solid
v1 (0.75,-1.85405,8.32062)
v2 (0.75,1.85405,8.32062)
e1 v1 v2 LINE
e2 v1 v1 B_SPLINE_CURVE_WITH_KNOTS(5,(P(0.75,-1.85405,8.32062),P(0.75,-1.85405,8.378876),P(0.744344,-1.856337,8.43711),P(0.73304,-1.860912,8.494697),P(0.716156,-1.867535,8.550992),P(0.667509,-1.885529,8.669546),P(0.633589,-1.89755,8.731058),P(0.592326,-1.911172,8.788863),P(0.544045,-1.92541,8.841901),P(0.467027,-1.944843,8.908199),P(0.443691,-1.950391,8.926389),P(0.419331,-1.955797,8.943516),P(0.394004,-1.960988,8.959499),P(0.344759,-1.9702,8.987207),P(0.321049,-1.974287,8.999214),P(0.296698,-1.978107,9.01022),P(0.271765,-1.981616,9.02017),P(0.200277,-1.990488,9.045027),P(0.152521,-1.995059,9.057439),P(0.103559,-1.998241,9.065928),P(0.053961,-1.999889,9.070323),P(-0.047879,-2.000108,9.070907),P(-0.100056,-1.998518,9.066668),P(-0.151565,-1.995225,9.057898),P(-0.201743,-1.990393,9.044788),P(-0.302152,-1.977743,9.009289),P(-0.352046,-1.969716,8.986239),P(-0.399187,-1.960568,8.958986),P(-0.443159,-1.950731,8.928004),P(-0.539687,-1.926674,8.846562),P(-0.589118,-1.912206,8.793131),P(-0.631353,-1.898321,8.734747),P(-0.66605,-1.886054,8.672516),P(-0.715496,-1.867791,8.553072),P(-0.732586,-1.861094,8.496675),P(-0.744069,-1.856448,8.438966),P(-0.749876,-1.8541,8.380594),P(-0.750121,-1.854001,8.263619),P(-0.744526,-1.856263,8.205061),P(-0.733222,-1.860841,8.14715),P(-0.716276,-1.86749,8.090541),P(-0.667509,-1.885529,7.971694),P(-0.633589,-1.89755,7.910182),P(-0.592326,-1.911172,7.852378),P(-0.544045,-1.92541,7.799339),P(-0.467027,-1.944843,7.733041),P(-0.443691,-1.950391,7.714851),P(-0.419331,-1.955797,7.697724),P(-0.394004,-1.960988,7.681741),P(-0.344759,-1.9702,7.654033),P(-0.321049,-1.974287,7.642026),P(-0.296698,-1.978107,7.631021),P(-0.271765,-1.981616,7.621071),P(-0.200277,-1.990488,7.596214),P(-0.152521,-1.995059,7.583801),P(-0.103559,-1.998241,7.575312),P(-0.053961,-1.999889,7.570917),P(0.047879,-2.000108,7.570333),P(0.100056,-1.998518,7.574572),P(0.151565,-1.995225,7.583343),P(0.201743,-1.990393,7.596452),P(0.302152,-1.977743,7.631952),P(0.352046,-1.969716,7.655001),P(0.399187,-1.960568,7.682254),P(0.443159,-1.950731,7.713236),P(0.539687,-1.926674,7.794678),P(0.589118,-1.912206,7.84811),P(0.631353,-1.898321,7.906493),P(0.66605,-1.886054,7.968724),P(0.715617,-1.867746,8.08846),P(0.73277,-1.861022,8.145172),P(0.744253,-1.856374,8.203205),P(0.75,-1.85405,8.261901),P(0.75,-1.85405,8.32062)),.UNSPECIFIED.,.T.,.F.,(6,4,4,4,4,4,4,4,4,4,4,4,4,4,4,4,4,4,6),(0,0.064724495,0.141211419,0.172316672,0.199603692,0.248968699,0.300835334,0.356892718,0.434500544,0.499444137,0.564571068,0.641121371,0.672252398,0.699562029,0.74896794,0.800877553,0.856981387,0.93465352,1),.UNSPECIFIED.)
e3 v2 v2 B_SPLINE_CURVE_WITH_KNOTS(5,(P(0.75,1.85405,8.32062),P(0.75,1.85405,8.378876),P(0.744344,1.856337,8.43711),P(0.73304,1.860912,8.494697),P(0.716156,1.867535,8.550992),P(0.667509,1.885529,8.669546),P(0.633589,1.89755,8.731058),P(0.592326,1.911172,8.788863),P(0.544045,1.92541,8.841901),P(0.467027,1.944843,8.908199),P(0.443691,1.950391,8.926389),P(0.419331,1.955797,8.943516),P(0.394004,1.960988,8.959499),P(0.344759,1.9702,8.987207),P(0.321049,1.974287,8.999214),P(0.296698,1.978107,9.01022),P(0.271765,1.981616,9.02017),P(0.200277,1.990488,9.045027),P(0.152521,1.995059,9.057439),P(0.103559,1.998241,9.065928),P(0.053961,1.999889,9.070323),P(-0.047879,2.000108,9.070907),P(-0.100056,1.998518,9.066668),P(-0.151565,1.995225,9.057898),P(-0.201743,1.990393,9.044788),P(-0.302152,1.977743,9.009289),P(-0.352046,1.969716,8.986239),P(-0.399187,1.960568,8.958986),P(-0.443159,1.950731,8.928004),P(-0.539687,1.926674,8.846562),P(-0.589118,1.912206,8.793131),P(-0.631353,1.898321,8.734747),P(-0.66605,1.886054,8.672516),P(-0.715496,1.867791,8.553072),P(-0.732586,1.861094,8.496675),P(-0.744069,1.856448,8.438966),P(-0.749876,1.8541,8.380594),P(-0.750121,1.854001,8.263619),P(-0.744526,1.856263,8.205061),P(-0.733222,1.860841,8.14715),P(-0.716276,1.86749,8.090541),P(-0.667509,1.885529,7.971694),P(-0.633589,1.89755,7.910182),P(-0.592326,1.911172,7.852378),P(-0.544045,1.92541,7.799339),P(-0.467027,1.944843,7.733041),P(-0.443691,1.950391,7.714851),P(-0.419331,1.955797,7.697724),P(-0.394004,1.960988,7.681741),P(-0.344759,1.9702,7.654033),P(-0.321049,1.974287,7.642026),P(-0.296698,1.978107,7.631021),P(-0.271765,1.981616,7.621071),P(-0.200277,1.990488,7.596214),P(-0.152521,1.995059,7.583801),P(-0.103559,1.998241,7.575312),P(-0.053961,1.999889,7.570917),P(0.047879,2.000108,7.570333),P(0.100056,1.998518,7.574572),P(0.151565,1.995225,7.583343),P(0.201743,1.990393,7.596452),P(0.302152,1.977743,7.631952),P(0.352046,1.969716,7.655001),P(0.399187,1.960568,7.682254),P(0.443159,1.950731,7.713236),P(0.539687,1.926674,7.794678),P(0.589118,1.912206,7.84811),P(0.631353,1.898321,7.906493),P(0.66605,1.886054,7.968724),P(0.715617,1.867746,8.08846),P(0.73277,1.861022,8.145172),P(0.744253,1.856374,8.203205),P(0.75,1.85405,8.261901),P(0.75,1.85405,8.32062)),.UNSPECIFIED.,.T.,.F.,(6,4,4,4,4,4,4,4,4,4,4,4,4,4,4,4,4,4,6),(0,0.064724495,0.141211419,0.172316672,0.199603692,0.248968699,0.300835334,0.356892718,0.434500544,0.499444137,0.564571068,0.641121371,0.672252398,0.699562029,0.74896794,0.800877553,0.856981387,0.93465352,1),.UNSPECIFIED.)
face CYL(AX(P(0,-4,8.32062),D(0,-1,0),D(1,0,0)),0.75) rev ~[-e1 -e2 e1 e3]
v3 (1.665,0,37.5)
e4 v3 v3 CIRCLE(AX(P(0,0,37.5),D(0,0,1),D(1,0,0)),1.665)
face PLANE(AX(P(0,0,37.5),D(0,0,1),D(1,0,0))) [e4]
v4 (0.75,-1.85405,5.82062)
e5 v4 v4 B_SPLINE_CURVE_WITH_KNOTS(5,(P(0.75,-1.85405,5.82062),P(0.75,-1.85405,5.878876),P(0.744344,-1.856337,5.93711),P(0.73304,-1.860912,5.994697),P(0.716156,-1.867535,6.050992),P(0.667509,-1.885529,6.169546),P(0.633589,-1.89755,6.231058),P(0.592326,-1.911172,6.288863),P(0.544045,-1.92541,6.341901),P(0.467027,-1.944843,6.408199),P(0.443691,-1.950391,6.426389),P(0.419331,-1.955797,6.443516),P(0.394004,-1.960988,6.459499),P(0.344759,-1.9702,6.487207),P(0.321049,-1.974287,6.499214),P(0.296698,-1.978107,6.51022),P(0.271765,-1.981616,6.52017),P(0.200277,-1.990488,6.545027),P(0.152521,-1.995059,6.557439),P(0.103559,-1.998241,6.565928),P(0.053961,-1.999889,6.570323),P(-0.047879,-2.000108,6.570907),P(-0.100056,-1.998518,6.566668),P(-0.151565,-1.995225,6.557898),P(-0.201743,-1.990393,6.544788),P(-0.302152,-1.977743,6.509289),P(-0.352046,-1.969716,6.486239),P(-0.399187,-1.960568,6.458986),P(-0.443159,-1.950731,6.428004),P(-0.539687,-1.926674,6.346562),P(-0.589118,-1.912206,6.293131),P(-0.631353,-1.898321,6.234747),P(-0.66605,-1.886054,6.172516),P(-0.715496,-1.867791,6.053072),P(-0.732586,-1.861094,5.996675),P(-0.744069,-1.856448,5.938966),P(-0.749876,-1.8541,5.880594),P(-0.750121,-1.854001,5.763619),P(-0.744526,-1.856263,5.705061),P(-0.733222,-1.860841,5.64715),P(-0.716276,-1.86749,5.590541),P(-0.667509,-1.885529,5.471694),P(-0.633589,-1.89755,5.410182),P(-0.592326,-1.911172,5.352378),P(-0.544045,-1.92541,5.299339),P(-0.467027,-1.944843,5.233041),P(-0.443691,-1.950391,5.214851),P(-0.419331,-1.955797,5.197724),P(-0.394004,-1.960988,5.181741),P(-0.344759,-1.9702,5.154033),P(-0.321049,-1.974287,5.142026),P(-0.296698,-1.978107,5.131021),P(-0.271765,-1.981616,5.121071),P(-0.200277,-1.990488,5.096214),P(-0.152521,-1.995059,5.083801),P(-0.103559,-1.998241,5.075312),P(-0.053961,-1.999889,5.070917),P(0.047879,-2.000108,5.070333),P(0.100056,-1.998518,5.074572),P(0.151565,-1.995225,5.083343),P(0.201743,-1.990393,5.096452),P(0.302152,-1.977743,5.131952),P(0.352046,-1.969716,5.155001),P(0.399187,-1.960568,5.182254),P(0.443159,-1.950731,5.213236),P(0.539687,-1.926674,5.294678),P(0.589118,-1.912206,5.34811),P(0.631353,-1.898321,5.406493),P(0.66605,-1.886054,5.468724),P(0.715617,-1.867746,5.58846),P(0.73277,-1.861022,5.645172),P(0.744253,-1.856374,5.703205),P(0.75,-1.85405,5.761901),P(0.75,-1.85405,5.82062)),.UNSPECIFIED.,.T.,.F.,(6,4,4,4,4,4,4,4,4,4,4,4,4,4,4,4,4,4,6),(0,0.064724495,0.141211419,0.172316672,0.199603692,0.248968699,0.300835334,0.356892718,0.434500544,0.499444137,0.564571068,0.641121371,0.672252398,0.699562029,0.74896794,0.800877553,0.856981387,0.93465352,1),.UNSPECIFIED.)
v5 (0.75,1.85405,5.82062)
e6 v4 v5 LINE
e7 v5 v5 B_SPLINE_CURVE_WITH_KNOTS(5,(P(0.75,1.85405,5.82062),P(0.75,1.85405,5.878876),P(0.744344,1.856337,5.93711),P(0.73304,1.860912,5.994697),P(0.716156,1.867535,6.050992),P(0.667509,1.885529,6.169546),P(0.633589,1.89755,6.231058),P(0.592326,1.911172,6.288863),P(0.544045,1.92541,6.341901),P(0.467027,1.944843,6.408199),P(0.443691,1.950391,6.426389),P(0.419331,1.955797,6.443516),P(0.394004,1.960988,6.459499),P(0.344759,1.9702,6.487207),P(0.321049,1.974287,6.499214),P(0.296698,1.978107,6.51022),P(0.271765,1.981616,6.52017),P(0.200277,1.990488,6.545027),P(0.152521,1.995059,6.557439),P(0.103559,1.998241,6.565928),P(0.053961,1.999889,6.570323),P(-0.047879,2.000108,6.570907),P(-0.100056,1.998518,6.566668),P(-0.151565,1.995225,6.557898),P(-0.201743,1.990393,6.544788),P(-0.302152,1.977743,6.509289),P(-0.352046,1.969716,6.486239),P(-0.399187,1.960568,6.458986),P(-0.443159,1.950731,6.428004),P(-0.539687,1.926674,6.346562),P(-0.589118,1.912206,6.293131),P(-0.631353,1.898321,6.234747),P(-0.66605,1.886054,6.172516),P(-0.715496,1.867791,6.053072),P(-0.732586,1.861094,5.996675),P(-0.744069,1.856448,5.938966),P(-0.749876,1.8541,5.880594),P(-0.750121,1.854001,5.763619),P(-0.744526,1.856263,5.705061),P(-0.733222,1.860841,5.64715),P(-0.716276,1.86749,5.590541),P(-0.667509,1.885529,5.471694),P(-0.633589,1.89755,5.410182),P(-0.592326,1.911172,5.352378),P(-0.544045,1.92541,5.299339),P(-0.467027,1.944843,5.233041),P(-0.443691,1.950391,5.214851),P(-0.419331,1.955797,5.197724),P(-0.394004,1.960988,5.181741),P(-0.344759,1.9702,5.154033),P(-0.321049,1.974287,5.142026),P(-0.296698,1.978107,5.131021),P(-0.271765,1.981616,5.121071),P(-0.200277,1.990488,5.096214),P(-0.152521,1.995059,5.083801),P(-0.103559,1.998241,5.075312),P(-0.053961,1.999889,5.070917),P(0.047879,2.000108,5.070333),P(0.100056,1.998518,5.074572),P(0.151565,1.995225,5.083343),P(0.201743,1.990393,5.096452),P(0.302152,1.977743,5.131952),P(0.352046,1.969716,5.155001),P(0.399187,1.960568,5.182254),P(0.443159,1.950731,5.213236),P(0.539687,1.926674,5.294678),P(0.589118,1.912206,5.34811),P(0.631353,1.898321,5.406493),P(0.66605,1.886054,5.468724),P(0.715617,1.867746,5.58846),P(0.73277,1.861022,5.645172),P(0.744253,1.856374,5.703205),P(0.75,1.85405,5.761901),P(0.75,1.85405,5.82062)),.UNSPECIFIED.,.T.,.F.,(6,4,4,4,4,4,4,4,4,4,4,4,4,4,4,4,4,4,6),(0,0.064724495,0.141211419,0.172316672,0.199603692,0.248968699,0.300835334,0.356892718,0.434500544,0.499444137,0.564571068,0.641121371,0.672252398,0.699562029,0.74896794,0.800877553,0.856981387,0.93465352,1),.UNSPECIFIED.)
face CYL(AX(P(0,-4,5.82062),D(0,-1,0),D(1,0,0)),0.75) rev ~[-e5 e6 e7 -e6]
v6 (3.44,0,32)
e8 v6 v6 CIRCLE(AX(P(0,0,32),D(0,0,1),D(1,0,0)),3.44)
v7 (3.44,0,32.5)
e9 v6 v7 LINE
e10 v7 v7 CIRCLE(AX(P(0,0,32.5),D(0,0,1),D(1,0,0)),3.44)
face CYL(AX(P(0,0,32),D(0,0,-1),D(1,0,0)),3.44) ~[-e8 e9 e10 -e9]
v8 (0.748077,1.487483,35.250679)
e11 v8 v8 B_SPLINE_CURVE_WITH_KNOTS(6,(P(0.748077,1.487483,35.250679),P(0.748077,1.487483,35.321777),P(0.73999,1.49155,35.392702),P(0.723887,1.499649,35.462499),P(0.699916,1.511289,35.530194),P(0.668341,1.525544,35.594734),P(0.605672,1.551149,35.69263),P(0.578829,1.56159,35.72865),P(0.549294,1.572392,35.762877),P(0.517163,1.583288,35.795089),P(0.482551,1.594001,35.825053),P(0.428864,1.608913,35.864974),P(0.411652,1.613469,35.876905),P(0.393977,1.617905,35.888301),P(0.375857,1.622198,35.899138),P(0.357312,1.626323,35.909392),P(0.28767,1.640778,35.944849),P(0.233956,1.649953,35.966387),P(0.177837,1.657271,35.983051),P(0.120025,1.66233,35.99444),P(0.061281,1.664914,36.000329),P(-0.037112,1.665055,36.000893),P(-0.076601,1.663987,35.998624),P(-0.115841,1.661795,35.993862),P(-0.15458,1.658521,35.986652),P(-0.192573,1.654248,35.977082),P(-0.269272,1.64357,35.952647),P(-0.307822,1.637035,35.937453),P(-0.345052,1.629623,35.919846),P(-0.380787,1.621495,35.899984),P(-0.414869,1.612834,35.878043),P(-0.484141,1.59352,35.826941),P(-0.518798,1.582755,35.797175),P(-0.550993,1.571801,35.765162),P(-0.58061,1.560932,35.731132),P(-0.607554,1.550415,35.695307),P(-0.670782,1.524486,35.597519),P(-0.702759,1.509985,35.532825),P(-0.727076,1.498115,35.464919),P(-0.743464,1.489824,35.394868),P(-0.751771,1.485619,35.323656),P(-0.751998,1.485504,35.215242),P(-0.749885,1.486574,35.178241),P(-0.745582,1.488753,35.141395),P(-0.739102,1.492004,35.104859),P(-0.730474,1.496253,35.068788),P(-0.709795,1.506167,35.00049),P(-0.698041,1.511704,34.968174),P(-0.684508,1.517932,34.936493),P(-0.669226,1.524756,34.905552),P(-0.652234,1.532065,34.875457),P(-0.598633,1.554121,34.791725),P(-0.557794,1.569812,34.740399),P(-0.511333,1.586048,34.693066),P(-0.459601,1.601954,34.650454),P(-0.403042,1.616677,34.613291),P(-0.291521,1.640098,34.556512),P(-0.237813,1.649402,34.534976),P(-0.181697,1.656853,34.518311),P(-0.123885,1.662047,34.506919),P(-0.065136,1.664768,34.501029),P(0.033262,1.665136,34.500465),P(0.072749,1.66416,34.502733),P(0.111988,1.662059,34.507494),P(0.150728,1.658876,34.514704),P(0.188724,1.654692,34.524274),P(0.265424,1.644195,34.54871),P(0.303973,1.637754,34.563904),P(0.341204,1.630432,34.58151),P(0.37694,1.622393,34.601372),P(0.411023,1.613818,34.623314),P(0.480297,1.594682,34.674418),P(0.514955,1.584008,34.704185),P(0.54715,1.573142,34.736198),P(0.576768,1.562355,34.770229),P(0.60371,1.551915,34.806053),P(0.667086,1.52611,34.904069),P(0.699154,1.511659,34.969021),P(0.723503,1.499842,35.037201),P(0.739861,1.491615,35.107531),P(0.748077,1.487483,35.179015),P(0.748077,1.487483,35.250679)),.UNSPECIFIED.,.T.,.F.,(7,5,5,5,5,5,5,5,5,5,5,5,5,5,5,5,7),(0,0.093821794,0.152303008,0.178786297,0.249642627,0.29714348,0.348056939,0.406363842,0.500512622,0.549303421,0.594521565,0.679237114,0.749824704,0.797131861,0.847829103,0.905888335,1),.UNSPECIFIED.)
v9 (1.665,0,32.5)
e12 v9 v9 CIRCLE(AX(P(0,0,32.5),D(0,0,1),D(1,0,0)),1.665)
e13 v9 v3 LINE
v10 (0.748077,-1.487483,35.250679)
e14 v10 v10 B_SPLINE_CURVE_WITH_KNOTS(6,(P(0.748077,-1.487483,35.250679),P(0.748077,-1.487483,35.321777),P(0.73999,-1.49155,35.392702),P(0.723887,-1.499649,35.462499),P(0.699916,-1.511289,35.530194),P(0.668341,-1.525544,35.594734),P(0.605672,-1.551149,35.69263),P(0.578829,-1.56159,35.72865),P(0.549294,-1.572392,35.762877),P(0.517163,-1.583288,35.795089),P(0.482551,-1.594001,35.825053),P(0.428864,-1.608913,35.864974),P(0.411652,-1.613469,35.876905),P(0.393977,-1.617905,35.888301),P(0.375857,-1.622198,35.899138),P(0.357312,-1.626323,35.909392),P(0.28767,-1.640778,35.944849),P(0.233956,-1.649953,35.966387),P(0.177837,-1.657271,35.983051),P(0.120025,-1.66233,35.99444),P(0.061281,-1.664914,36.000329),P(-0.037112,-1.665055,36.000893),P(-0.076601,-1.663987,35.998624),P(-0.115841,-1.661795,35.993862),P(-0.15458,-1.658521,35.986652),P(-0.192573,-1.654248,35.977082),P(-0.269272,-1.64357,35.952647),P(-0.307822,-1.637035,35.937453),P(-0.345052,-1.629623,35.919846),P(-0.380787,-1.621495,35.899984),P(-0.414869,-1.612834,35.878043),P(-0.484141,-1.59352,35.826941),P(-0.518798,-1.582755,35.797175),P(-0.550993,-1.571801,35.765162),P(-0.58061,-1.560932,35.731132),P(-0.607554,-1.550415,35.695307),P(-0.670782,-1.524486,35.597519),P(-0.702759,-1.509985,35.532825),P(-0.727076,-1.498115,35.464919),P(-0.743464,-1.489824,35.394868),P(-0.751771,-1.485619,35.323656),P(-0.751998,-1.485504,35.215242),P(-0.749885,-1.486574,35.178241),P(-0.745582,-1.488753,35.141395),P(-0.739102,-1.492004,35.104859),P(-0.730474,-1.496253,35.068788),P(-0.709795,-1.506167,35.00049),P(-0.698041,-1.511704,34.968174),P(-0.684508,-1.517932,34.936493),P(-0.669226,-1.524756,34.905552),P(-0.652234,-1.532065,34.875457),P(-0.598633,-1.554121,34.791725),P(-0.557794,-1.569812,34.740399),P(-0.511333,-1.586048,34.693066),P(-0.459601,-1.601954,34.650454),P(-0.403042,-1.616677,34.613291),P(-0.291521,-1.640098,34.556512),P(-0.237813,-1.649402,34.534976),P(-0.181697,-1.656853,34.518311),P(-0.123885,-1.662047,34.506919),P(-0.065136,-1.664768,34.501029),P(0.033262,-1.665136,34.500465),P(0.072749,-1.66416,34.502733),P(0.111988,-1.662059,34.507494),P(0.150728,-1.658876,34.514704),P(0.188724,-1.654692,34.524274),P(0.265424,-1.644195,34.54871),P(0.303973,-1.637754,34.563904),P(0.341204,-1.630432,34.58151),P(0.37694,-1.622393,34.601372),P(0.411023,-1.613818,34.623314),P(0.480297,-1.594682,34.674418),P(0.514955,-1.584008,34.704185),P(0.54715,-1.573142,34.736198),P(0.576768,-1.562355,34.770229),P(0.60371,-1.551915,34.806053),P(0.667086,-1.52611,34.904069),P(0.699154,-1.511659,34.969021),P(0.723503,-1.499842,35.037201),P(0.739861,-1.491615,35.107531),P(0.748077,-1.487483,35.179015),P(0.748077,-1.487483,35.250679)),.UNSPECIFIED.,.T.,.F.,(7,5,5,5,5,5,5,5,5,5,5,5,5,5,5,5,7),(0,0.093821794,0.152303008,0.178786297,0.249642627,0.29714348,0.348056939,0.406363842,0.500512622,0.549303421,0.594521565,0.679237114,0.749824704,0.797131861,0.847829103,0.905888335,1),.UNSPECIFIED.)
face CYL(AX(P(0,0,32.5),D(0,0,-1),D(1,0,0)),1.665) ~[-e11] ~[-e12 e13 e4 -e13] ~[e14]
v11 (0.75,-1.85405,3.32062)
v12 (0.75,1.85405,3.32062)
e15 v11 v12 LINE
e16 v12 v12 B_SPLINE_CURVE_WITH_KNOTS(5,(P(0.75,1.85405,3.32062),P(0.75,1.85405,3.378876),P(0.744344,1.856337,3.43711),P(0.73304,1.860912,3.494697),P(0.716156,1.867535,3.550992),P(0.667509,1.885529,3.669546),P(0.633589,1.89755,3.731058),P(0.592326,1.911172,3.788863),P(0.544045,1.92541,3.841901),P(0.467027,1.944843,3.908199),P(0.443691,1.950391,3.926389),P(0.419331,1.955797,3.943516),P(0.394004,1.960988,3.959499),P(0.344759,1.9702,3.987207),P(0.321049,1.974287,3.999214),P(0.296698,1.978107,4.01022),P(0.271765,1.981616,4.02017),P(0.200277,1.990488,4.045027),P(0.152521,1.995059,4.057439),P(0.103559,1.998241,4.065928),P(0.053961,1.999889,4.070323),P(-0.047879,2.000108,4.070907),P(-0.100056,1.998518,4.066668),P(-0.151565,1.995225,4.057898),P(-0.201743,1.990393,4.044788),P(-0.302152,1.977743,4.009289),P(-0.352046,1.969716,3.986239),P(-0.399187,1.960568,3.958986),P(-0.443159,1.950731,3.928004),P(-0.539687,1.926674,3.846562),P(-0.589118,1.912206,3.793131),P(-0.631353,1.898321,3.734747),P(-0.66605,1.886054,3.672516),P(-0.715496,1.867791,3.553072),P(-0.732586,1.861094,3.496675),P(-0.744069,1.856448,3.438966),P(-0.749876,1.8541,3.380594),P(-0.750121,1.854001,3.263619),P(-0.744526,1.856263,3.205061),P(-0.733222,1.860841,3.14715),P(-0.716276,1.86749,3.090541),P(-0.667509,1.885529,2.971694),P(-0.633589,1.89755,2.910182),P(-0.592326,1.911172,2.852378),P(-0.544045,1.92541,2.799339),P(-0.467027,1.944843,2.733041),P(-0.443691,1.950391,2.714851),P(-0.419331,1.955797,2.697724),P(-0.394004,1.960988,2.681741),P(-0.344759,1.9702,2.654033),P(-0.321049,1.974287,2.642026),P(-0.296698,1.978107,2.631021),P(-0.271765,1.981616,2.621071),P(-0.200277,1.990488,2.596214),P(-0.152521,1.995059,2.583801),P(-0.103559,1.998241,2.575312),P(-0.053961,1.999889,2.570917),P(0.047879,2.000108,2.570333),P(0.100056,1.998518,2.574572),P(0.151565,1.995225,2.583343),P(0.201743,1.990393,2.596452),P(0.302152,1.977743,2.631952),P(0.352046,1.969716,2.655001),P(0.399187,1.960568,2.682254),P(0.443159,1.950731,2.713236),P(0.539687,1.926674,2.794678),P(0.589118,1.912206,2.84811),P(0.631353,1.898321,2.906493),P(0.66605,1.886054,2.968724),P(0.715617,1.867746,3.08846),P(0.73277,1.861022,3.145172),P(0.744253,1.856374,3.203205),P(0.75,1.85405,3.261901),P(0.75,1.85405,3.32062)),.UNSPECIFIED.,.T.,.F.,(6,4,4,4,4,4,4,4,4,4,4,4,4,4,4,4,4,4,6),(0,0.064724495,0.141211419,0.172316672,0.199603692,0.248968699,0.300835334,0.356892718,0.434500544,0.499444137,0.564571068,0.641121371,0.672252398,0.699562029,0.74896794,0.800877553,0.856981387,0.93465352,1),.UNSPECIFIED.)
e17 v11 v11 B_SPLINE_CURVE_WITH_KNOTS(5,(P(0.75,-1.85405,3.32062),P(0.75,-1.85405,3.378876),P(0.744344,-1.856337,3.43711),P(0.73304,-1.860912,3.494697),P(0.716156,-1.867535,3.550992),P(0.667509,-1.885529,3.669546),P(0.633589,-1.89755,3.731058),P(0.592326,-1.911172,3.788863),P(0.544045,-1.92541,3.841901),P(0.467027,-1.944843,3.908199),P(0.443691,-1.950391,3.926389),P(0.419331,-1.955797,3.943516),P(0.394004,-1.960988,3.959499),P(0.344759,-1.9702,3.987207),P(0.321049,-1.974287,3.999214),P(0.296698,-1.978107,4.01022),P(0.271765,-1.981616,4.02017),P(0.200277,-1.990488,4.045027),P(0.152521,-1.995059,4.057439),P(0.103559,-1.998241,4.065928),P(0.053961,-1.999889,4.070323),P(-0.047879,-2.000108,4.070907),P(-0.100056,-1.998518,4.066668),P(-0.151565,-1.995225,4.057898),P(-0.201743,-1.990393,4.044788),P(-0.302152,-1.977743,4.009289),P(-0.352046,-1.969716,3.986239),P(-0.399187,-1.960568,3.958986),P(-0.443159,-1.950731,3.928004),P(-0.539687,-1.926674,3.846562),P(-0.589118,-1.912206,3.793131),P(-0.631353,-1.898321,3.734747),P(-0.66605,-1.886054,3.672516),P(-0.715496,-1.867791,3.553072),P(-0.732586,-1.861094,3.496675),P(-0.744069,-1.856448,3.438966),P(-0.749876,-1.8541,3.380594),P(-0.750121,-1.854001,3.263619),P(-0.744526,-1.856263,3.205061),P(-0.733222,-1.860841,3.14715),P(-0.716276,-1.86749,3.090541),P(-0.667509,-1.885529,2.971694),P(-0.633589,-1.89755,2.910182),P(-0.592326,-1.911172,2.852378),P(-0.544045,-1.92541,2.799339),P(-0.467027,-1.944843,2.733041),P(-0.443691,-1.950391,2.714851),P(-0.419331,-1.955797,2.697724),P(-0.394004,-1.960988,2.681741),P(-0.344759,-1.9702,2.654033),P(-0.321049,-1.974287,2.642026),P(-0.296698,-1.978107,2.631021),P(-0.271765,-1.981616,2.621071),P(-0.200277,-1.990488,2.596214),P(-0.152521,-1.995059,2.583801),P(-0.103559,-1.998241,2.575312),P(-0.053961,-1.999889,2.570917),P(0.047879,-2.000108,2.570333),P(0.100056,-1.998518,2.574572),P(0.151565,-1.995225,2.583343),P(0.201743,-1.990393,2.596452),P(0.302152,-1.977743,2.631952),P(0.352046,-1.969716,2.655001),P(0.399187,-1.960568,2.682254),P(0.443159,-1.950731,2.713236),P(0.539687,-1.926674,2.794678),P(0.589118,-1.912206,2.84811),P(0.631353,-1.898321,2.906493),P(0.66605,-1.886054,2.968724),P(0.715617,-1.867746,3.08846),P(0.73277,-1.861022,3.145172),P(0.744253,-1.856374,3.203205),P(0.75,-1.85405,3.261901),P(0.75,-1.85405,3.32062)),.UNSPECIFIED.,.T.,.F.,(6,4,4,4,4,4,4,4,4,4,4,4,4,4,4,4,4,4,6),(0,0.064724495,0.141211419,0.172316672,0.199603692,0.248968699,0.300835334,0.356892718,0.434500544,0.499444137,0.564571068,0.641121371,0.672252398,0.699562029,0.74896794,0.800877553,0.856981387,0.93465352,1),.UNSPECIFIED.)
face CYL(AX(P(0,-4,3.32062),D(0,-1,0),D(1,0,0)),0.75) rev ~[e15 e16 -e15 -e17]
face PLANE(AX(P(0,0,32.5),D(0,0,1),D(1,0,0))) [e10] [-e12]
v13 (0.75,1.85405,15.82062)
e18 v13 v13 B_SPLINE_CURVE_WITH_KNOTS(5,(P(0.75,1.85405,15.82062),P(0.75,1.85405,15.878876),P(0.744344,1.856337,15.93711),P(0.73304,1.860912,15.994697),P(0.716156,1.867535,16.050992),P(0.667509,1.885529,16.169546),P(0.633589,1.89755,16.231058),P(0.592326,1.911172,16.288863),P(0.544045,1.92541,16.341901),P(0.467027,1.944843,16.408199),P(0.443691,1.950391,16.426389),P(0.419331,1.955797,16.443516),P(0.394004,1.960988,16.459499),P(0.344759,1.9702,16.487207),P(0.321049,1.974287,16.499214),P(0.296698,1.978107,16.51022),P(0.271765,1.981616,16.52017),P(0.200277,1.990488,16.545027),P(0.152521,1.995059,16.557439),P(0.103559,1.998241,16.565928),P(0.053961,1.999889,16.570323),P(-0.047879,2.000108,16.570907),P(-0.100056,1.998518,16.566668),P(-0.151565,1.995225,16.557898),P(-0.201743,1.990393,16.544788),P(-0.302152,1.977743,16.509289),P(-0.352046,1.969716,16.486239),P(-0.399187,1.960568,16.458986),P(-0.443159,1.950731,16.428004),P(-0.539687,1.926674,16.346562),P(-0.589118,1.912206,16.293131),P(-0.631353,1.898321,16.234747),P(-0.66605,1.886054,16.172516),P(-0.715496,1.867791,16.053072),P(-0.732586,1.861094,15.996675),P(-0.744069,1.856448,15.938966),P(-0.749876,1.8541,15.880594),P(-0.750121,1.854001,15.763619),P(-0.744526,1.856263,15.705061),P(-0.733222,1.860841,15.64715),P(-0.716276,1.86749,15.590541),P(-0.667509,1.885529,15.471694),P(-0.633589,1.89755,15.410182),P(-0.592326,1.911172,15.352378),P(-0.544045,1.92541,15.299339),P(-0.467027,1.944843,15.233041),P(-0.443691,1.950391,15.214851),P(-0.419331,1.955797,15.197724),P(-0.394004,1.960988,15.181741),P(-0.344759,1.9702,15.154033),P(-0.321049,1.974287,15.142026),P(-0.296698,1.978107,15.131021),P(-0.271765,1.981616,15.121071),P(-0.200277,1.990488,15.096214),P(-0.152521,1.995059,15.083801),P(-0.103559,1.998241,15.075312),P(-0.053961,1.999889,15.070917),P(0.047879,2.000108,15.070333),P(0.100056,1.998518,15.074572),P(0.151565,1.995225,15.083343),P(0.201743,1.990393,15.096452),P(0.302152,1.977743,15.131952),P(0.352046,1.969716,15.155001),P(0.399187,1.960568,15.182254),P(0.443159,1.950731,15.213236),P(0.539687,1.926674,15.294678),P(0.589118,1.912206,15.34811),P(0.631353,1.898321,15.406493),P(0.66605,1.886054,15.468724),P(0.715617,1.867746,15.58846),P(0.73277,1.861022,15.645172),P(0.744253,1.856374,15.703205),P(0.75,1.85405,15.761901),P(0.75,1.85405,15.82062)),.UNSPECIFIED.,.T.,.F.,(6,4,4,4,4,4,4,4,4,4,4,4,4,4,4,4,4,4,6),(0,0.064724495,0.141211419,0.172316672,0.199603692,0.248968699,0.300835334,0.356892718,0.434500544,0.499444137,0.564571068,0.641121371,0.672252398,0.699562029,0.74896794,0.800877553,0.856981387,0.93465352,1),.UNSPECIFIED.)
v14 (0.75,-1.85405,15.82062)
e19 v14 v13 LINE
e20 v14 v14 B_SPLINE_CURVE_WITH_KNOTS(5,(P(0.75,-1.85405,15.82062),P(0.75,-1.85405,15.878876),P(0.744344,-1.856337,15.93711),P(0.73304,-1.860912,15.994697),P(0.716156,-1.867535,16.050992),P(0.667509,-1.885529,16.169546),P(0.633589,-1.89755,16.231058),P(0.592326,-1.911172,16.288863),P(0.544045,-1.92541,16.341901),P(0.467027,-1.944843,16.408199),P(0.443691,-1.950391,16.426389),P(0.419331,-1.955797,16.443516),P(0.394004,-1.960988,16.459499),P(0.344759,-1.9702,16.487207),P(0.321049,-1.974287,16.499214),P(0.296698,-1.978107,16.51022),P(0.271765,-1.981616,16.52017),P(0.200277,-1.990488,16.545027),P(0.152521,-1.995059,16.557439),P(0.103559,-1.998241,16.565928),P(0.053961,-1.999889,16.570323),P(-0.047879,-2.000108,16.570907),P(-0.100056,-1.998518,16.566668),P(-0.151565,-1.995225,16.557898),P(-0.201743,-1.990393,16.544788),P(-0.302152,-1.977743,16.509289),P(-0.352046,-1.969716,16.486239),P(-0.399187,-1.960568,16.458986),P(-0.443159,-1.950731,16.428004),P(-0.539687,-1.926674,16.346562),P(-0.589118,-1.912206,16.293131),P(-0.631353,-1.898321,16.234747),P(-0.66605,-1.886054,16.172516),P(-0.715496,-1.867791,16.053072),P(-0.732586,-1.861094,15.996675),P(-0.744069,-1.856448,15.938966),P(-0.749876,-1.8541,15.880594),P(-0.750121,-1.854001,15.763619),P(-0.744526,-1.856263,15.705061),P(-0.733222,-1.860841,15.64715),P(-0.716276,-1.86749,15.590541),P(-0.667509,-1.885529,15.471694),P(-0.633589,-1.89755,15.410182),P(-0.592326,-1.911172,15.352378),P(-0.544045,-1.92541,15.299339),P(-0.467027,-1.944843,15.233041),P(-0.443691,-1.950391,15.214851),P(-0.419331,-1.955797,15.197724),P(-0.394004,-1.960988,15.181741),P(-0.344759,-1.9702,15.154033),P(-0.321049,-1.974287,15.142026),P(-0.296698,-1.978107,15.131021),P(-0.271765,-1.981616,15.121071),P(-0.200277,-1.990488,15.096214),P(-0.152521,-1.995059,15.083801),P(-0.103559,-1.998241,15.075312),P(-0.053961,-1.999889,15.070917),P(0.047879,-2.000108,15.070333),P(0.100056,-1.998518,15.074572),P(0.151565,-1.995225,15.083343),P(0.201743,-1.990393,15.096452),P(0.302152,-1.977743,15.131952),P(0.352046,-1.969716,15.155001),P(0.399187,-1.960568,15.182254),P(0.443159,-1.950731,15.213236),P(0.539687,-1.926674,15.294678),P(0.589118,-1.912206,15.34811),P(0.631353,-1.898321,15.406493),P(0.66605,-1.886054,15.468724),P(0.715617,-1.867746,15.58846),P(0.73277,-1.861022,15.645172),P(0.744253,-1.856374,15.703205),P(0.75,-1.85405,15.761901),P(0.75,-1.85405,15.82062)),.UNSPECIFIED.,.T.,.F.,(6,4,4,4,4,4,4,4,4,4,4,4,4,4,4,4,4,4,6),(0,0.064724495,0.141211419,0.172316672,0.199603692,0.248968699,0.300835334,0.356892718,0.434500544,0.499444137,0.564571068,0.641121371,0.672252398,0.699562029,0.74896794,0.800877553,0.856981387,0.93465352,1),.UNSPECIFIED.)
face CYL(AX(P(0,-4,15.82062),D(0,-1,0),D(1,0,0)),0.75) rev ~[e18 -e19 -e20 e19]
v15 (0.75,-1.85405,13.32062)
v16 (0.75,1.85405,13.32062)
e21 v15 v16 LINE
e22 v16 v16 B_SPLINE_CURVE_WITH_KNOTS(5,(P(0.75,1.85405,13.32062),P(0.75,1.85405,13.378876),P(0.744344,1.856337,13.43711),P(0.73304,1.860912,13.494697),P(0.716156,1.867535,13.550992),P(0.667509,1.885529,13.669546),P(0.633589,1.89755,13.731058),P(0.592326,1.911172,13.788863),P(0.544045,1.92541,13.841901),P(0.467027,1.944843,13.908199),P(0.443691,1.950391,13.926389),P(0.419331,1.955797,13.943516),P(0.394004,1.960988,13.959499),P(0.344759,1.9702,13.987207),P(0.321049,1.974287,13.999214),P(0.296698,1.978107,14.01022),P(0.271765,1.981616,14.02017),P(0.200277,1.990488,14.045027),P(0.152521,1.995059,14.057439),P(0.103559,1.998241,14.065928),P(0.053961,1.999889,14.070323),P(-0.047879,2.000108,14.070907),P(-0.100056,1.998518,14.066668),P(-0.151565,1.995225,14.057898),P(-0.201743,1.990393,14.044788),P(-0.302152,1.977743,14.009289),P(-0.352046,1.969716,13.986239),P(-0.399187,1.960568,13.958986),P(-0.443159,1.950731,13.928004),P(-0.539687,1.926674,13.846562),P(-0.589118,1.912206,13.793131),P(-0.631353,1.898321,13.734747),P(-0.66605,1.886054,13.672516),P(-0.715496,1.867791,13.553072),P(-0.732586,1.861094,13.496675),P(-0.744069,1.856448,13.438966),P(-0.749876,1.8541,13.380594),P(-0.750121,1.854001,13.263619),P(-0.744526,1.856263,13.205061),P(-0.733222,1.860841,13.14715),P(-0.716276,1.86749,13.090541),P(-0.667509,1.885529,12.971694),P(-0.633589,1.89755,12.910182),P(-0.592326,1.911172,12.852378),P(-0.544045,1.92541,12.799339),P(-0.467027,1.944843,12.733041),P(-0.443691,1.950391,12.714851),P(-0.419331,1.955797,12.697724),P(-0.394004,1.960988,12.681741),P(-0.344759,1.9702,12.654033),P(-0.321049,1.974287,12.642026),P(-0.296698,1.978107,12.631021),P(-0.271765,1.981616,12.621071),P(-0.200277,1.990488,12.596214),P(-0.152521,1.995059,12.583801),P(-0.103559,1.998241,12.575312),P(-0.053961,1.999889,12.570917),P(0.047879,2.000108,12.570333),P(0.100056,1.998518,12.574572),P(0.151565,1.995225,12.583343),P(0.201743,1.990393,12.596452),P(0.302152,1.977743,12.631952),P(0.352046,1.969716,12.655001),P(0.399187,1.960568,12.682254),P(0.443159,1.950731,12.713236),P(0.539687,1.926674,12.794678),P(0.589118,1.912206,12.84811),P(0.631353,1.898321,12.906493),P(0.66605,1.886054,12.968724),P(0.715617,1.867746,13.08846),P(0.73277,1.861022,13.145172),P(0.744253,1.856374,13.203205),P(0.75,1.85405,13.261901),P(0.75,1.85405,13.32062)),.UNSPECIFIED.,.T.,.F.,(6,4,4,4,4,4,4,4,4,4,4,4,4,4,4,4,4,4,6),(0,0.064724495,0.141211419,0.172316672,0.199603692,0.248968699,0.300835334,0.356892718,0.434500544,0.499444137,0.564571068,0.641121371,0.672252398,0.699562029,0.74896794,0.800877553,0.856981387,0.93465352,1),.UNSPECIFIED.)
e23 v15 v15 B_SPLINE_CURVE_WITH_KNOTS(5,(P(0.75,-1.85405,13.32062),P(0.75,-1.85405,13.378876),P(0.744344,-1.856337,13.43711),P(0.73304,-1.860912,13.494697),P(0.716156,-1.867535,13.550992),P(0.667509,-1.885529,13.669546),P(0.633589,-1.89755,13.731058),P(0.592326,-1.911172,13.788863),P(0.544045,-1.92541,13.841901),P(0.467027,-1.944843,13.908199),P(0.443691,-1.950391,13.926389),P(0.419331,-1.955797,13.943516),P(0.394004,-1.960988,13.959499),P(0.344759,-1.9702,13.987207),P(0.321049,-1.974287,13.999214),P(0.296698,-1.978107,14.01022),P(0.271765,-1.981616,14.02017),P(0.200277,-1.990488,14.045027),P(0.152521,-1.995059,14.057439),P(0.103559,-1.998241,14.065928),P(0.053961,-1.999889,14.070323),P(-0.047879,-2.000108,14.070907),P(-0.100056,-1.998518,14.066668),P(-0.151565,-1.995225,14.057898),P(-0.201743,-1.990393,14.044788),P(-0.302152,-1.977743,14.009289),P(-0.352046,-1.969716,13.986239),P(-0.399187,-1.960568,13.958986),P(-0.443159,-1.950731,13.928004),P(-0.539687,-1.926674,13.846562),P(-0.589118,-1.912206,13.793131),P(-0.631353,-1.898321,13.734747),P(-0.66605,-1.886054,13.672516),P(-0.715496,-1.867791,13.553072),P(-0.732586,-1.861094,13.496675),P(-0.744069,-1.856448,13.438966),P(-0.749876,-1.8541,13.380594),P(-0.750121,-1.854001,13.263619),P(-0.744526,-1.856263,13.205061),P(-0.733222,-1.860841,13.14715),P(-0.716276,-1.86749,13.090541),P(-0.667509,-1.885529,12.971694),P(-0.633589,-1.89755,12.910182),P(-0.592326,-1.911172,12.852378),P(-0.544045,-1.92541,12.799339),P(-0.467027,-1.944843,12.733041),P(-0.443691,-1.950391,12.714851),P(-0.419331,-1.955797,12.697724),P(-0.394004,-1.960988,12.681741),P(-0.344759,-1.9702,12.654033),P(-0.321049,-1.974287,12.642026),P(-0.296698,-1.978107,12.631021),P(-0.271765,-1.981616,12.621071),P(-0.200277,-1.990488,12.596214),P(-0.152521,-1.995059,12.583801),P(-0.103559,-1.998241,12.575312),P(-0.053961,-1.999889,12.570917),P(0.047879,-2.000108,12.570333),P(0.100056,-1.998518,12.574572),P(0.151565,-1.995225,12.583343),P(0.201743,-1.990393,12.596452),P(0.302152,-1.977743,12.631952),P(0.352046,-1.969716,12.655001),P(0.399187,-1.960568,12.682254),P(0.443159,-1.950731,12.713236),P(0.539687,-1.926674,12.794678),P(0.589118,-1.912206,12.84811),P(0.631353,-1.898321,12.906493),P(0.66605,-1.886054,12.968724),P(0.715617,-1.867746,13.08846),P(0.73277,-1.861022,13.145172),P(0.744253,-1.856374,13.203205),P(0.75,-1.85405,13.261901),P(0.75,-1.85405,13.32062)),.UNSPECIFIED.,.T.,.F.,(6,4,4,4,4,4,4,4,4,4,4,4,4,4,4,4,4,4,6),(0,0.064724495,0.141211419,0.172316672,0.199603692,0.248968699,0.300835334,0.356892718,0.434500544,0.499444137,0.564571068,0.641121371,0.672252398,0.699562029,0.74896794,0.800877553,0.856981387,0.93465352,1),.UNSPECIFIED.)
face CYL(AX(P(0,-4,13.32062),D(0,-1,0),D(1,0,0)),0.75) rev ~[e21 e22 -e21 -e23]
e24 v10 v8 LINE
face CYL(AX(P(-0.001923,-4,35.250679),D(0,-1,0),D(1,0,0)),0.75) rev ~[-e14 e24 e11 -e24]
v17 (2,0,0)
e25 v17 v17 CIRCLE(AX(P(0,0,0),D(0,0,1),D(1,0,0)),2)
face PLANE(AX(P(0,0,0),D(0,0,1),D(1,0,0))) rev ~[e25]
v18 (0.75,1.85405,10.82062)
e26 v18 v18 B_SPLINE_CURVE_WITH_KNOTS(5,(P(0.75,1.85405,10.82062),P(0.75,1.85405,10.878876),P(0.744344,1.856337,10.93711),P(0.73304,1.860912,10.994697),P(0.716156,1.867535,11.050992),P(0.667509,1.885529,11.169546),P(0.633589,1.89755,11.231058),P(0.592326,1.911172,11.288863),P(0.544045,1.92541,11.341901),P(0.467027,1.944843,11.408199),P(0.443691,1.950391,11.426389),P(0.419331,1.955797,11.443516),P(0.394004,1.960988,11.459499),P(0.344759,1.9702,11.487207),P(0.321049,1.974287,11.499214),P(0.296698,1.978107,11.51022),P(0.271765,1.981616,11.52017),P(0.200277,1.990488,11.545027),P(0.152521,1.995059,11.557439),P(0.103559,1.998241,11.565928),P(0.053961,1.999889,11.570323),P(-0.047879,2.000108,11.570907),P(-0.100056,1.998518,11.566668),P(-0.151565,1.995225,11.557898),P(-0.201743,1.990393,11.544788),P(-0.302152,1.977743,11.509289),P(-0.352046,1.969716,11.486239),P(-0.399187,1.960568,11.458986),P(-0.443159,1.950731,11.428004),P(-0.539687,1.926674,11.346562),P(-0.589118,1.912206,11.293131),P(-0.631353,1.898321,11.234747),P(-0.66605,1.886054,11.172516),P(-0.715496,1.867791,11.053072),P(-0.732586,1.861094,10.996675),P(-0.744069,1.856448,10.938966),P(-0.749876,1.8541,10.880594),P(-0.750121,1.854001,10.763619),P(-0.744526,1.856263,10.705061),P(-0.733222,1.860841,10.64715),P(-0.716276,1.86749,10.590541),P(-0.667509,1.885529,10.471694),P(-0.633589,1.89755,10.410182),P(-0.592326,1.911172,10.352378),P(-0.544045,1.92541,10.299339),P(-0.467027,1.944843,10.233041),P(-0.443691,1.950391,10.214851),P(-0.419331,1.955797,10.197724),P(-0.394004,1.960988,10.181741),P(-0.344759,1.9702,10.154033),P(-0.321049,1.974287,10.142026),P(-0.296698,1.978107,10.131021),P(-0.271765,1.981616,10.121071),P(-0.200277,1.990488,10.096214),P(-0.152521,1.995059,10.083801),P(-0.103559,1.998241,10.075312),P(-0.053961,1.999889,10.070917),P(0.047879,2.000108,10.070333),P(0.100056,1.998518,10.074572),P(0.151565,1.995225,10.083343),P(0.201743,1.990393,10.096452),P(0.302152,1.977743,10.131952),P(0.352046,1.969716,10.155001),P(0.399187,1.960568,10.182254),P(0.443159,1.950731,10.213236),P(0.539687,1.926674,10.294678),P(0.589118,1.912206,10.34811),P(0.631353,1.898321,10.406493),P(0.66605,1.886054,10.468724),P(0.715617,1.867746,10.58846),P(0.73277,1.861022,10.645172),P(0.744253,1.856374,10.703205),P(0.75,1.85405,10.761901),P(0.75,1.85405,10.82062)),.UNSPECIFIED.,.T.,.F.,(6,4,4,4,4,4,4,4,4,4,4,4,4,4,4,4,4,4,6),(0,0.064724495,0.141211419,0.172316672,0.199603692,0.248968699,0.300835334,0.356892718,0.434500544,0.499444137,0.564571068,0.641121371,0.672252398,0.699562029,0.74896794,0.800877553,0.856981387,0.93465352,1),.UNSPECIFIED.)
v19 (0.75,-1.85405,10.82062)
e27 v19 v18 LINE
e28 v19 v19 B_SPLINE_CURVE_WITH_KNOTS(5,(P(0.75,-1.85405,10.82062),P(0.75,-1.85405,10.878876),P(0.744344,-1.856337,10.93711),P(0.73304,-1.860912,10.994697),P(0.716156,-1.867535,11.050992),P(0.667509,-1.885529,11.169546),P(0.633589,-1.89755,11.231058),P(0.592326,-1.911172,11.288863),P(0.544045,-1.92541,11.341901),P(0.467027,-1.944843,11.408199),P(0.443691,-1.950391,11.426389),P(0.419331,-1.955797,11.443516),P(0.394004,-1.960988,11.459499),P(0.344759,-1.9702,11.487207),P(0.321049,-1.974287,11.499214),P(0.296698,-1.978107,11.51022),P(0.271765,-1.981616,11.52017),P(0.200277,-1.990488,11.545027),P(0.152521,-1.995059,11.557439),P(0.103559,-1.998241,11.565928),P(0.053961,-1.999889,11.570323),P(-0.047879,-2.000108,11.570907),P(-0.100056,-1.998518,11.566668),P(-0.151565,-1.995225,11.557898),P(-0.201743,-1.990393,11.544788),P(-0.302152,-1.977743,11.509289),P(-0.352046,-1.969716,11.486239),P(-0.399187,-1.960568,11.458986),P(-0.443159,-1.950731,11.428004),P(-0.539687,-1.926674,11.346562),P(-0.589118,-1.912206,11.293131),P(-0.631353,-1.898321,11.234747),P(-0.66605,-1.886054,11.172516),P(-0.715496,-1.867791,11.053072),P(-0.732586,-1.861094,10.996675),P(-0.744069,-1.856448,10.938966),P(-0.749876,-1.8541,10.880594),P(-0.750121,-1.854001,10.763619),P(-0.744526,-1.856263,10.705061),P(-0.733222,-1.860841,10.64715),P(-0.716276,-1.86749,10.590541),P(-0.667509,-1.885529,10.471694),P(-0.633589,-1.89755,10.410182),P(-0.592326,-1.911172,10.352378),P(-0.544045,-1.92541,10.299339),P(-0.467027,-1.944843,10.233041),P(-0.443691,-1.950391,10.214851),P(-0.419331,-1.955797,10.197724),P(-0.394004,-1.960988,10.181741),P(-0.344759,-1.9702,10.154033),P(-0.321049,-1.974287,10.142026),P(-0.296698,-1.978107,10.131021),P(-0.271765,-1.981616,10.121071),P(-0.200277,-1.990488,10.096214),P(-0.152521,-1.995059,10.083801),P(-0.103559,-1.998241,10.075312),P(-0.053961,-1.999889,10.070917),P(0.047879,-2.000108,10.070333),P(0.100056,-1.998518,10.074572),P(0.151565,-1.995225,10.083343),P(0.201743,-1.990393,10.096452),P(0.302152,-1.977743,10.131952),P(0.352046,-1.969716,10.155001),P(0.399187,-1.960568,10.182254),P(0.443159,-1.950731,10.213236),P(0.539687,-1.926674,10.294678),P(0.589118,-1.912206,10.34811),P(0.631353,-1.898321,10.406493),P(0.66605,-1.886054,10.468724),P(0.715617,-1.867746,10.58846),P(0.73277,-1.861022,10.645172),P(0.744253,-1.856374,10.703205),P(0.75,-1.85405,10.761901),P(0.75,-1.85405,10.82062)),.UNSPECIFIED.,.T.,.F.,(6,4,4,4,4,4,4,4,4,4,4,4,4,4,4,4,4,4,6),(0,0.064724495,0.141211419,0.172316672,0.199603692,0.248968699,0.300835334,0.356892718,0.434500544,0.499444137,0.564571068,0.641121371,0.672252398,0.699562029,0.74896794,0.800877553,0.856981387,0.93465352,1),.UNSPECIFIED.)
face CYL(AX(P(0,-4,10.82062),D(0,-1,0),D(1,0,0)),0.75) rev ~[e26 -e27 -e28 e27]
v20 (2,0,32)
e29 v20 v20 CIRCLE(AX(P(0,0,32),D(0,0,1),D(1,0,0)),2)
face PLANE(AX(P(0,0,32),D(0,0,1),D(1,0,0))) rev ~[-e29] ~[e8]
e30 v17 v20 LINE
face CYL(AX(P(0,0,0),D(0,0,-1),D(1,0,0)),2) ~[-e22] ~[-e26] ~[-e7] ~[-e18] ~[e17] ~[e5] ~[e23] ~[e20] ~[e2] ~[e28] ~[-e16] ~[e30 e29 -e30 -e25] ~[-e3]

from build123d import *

# Parameters (mm, degrees)
F0_R     = 2
F1_DEPTH = 32
F2_R     = 3.44
F2_R_2   = 2
F3_DEPTH = 0.5
F4_R     = 1.665
F5_DEPTH = 5
F7_R     = 0.75
F8_DEPTH = 10


with BuildPart() as f1:
    # F0 (on Top) → F1 (new body)
    with BuildSketch(Plane.XY):
        Circle(F0_R)
    extrude(amount=F1_DEPTH)

    # F2 (on face) → F3 (join)
    with BuildSketch(Plane.XY.offset(32)):
        Circle(F2_R)
        Circle(F2_R_2, mode=Mode.SUBTRACT)
        Circle(F2_R_2)
    extrude(amount=F3_DEPTH)

    # F4 (on face) → F5 (join)
    with BuildSketch(Plane.XY.offset(32.5)):
        Circle(F4_R)
    extrude(amount=F5_DEPTH)

    # F7 (on offset) → F8 (cut)
    with BuildSketch(Plane.XZ.offset(4)):
        with Locations((0, 3.3206201717)):
            Circle(F7_R)
        with Locations((0, 5.8206201717)):
            Circle(F7_R)
        with Locations((0, 8.3206201717)):
            Circle(F7_R)
        with Locations((0, 10.8206201717)):
            Circle(F7_R)
        with Locations((-0.0019225008, 35.2506788733)):
            Circle(F7_R)
        with Locations((0, 13.3206201717)):
            Circle(F7_R)
        with Locations((0, 15.8206201717)):
            Circle(F7_R)
    extrude(amount=-F8_DEPTH, mode=Mode.SUBTRACT)


solid = f1.part
